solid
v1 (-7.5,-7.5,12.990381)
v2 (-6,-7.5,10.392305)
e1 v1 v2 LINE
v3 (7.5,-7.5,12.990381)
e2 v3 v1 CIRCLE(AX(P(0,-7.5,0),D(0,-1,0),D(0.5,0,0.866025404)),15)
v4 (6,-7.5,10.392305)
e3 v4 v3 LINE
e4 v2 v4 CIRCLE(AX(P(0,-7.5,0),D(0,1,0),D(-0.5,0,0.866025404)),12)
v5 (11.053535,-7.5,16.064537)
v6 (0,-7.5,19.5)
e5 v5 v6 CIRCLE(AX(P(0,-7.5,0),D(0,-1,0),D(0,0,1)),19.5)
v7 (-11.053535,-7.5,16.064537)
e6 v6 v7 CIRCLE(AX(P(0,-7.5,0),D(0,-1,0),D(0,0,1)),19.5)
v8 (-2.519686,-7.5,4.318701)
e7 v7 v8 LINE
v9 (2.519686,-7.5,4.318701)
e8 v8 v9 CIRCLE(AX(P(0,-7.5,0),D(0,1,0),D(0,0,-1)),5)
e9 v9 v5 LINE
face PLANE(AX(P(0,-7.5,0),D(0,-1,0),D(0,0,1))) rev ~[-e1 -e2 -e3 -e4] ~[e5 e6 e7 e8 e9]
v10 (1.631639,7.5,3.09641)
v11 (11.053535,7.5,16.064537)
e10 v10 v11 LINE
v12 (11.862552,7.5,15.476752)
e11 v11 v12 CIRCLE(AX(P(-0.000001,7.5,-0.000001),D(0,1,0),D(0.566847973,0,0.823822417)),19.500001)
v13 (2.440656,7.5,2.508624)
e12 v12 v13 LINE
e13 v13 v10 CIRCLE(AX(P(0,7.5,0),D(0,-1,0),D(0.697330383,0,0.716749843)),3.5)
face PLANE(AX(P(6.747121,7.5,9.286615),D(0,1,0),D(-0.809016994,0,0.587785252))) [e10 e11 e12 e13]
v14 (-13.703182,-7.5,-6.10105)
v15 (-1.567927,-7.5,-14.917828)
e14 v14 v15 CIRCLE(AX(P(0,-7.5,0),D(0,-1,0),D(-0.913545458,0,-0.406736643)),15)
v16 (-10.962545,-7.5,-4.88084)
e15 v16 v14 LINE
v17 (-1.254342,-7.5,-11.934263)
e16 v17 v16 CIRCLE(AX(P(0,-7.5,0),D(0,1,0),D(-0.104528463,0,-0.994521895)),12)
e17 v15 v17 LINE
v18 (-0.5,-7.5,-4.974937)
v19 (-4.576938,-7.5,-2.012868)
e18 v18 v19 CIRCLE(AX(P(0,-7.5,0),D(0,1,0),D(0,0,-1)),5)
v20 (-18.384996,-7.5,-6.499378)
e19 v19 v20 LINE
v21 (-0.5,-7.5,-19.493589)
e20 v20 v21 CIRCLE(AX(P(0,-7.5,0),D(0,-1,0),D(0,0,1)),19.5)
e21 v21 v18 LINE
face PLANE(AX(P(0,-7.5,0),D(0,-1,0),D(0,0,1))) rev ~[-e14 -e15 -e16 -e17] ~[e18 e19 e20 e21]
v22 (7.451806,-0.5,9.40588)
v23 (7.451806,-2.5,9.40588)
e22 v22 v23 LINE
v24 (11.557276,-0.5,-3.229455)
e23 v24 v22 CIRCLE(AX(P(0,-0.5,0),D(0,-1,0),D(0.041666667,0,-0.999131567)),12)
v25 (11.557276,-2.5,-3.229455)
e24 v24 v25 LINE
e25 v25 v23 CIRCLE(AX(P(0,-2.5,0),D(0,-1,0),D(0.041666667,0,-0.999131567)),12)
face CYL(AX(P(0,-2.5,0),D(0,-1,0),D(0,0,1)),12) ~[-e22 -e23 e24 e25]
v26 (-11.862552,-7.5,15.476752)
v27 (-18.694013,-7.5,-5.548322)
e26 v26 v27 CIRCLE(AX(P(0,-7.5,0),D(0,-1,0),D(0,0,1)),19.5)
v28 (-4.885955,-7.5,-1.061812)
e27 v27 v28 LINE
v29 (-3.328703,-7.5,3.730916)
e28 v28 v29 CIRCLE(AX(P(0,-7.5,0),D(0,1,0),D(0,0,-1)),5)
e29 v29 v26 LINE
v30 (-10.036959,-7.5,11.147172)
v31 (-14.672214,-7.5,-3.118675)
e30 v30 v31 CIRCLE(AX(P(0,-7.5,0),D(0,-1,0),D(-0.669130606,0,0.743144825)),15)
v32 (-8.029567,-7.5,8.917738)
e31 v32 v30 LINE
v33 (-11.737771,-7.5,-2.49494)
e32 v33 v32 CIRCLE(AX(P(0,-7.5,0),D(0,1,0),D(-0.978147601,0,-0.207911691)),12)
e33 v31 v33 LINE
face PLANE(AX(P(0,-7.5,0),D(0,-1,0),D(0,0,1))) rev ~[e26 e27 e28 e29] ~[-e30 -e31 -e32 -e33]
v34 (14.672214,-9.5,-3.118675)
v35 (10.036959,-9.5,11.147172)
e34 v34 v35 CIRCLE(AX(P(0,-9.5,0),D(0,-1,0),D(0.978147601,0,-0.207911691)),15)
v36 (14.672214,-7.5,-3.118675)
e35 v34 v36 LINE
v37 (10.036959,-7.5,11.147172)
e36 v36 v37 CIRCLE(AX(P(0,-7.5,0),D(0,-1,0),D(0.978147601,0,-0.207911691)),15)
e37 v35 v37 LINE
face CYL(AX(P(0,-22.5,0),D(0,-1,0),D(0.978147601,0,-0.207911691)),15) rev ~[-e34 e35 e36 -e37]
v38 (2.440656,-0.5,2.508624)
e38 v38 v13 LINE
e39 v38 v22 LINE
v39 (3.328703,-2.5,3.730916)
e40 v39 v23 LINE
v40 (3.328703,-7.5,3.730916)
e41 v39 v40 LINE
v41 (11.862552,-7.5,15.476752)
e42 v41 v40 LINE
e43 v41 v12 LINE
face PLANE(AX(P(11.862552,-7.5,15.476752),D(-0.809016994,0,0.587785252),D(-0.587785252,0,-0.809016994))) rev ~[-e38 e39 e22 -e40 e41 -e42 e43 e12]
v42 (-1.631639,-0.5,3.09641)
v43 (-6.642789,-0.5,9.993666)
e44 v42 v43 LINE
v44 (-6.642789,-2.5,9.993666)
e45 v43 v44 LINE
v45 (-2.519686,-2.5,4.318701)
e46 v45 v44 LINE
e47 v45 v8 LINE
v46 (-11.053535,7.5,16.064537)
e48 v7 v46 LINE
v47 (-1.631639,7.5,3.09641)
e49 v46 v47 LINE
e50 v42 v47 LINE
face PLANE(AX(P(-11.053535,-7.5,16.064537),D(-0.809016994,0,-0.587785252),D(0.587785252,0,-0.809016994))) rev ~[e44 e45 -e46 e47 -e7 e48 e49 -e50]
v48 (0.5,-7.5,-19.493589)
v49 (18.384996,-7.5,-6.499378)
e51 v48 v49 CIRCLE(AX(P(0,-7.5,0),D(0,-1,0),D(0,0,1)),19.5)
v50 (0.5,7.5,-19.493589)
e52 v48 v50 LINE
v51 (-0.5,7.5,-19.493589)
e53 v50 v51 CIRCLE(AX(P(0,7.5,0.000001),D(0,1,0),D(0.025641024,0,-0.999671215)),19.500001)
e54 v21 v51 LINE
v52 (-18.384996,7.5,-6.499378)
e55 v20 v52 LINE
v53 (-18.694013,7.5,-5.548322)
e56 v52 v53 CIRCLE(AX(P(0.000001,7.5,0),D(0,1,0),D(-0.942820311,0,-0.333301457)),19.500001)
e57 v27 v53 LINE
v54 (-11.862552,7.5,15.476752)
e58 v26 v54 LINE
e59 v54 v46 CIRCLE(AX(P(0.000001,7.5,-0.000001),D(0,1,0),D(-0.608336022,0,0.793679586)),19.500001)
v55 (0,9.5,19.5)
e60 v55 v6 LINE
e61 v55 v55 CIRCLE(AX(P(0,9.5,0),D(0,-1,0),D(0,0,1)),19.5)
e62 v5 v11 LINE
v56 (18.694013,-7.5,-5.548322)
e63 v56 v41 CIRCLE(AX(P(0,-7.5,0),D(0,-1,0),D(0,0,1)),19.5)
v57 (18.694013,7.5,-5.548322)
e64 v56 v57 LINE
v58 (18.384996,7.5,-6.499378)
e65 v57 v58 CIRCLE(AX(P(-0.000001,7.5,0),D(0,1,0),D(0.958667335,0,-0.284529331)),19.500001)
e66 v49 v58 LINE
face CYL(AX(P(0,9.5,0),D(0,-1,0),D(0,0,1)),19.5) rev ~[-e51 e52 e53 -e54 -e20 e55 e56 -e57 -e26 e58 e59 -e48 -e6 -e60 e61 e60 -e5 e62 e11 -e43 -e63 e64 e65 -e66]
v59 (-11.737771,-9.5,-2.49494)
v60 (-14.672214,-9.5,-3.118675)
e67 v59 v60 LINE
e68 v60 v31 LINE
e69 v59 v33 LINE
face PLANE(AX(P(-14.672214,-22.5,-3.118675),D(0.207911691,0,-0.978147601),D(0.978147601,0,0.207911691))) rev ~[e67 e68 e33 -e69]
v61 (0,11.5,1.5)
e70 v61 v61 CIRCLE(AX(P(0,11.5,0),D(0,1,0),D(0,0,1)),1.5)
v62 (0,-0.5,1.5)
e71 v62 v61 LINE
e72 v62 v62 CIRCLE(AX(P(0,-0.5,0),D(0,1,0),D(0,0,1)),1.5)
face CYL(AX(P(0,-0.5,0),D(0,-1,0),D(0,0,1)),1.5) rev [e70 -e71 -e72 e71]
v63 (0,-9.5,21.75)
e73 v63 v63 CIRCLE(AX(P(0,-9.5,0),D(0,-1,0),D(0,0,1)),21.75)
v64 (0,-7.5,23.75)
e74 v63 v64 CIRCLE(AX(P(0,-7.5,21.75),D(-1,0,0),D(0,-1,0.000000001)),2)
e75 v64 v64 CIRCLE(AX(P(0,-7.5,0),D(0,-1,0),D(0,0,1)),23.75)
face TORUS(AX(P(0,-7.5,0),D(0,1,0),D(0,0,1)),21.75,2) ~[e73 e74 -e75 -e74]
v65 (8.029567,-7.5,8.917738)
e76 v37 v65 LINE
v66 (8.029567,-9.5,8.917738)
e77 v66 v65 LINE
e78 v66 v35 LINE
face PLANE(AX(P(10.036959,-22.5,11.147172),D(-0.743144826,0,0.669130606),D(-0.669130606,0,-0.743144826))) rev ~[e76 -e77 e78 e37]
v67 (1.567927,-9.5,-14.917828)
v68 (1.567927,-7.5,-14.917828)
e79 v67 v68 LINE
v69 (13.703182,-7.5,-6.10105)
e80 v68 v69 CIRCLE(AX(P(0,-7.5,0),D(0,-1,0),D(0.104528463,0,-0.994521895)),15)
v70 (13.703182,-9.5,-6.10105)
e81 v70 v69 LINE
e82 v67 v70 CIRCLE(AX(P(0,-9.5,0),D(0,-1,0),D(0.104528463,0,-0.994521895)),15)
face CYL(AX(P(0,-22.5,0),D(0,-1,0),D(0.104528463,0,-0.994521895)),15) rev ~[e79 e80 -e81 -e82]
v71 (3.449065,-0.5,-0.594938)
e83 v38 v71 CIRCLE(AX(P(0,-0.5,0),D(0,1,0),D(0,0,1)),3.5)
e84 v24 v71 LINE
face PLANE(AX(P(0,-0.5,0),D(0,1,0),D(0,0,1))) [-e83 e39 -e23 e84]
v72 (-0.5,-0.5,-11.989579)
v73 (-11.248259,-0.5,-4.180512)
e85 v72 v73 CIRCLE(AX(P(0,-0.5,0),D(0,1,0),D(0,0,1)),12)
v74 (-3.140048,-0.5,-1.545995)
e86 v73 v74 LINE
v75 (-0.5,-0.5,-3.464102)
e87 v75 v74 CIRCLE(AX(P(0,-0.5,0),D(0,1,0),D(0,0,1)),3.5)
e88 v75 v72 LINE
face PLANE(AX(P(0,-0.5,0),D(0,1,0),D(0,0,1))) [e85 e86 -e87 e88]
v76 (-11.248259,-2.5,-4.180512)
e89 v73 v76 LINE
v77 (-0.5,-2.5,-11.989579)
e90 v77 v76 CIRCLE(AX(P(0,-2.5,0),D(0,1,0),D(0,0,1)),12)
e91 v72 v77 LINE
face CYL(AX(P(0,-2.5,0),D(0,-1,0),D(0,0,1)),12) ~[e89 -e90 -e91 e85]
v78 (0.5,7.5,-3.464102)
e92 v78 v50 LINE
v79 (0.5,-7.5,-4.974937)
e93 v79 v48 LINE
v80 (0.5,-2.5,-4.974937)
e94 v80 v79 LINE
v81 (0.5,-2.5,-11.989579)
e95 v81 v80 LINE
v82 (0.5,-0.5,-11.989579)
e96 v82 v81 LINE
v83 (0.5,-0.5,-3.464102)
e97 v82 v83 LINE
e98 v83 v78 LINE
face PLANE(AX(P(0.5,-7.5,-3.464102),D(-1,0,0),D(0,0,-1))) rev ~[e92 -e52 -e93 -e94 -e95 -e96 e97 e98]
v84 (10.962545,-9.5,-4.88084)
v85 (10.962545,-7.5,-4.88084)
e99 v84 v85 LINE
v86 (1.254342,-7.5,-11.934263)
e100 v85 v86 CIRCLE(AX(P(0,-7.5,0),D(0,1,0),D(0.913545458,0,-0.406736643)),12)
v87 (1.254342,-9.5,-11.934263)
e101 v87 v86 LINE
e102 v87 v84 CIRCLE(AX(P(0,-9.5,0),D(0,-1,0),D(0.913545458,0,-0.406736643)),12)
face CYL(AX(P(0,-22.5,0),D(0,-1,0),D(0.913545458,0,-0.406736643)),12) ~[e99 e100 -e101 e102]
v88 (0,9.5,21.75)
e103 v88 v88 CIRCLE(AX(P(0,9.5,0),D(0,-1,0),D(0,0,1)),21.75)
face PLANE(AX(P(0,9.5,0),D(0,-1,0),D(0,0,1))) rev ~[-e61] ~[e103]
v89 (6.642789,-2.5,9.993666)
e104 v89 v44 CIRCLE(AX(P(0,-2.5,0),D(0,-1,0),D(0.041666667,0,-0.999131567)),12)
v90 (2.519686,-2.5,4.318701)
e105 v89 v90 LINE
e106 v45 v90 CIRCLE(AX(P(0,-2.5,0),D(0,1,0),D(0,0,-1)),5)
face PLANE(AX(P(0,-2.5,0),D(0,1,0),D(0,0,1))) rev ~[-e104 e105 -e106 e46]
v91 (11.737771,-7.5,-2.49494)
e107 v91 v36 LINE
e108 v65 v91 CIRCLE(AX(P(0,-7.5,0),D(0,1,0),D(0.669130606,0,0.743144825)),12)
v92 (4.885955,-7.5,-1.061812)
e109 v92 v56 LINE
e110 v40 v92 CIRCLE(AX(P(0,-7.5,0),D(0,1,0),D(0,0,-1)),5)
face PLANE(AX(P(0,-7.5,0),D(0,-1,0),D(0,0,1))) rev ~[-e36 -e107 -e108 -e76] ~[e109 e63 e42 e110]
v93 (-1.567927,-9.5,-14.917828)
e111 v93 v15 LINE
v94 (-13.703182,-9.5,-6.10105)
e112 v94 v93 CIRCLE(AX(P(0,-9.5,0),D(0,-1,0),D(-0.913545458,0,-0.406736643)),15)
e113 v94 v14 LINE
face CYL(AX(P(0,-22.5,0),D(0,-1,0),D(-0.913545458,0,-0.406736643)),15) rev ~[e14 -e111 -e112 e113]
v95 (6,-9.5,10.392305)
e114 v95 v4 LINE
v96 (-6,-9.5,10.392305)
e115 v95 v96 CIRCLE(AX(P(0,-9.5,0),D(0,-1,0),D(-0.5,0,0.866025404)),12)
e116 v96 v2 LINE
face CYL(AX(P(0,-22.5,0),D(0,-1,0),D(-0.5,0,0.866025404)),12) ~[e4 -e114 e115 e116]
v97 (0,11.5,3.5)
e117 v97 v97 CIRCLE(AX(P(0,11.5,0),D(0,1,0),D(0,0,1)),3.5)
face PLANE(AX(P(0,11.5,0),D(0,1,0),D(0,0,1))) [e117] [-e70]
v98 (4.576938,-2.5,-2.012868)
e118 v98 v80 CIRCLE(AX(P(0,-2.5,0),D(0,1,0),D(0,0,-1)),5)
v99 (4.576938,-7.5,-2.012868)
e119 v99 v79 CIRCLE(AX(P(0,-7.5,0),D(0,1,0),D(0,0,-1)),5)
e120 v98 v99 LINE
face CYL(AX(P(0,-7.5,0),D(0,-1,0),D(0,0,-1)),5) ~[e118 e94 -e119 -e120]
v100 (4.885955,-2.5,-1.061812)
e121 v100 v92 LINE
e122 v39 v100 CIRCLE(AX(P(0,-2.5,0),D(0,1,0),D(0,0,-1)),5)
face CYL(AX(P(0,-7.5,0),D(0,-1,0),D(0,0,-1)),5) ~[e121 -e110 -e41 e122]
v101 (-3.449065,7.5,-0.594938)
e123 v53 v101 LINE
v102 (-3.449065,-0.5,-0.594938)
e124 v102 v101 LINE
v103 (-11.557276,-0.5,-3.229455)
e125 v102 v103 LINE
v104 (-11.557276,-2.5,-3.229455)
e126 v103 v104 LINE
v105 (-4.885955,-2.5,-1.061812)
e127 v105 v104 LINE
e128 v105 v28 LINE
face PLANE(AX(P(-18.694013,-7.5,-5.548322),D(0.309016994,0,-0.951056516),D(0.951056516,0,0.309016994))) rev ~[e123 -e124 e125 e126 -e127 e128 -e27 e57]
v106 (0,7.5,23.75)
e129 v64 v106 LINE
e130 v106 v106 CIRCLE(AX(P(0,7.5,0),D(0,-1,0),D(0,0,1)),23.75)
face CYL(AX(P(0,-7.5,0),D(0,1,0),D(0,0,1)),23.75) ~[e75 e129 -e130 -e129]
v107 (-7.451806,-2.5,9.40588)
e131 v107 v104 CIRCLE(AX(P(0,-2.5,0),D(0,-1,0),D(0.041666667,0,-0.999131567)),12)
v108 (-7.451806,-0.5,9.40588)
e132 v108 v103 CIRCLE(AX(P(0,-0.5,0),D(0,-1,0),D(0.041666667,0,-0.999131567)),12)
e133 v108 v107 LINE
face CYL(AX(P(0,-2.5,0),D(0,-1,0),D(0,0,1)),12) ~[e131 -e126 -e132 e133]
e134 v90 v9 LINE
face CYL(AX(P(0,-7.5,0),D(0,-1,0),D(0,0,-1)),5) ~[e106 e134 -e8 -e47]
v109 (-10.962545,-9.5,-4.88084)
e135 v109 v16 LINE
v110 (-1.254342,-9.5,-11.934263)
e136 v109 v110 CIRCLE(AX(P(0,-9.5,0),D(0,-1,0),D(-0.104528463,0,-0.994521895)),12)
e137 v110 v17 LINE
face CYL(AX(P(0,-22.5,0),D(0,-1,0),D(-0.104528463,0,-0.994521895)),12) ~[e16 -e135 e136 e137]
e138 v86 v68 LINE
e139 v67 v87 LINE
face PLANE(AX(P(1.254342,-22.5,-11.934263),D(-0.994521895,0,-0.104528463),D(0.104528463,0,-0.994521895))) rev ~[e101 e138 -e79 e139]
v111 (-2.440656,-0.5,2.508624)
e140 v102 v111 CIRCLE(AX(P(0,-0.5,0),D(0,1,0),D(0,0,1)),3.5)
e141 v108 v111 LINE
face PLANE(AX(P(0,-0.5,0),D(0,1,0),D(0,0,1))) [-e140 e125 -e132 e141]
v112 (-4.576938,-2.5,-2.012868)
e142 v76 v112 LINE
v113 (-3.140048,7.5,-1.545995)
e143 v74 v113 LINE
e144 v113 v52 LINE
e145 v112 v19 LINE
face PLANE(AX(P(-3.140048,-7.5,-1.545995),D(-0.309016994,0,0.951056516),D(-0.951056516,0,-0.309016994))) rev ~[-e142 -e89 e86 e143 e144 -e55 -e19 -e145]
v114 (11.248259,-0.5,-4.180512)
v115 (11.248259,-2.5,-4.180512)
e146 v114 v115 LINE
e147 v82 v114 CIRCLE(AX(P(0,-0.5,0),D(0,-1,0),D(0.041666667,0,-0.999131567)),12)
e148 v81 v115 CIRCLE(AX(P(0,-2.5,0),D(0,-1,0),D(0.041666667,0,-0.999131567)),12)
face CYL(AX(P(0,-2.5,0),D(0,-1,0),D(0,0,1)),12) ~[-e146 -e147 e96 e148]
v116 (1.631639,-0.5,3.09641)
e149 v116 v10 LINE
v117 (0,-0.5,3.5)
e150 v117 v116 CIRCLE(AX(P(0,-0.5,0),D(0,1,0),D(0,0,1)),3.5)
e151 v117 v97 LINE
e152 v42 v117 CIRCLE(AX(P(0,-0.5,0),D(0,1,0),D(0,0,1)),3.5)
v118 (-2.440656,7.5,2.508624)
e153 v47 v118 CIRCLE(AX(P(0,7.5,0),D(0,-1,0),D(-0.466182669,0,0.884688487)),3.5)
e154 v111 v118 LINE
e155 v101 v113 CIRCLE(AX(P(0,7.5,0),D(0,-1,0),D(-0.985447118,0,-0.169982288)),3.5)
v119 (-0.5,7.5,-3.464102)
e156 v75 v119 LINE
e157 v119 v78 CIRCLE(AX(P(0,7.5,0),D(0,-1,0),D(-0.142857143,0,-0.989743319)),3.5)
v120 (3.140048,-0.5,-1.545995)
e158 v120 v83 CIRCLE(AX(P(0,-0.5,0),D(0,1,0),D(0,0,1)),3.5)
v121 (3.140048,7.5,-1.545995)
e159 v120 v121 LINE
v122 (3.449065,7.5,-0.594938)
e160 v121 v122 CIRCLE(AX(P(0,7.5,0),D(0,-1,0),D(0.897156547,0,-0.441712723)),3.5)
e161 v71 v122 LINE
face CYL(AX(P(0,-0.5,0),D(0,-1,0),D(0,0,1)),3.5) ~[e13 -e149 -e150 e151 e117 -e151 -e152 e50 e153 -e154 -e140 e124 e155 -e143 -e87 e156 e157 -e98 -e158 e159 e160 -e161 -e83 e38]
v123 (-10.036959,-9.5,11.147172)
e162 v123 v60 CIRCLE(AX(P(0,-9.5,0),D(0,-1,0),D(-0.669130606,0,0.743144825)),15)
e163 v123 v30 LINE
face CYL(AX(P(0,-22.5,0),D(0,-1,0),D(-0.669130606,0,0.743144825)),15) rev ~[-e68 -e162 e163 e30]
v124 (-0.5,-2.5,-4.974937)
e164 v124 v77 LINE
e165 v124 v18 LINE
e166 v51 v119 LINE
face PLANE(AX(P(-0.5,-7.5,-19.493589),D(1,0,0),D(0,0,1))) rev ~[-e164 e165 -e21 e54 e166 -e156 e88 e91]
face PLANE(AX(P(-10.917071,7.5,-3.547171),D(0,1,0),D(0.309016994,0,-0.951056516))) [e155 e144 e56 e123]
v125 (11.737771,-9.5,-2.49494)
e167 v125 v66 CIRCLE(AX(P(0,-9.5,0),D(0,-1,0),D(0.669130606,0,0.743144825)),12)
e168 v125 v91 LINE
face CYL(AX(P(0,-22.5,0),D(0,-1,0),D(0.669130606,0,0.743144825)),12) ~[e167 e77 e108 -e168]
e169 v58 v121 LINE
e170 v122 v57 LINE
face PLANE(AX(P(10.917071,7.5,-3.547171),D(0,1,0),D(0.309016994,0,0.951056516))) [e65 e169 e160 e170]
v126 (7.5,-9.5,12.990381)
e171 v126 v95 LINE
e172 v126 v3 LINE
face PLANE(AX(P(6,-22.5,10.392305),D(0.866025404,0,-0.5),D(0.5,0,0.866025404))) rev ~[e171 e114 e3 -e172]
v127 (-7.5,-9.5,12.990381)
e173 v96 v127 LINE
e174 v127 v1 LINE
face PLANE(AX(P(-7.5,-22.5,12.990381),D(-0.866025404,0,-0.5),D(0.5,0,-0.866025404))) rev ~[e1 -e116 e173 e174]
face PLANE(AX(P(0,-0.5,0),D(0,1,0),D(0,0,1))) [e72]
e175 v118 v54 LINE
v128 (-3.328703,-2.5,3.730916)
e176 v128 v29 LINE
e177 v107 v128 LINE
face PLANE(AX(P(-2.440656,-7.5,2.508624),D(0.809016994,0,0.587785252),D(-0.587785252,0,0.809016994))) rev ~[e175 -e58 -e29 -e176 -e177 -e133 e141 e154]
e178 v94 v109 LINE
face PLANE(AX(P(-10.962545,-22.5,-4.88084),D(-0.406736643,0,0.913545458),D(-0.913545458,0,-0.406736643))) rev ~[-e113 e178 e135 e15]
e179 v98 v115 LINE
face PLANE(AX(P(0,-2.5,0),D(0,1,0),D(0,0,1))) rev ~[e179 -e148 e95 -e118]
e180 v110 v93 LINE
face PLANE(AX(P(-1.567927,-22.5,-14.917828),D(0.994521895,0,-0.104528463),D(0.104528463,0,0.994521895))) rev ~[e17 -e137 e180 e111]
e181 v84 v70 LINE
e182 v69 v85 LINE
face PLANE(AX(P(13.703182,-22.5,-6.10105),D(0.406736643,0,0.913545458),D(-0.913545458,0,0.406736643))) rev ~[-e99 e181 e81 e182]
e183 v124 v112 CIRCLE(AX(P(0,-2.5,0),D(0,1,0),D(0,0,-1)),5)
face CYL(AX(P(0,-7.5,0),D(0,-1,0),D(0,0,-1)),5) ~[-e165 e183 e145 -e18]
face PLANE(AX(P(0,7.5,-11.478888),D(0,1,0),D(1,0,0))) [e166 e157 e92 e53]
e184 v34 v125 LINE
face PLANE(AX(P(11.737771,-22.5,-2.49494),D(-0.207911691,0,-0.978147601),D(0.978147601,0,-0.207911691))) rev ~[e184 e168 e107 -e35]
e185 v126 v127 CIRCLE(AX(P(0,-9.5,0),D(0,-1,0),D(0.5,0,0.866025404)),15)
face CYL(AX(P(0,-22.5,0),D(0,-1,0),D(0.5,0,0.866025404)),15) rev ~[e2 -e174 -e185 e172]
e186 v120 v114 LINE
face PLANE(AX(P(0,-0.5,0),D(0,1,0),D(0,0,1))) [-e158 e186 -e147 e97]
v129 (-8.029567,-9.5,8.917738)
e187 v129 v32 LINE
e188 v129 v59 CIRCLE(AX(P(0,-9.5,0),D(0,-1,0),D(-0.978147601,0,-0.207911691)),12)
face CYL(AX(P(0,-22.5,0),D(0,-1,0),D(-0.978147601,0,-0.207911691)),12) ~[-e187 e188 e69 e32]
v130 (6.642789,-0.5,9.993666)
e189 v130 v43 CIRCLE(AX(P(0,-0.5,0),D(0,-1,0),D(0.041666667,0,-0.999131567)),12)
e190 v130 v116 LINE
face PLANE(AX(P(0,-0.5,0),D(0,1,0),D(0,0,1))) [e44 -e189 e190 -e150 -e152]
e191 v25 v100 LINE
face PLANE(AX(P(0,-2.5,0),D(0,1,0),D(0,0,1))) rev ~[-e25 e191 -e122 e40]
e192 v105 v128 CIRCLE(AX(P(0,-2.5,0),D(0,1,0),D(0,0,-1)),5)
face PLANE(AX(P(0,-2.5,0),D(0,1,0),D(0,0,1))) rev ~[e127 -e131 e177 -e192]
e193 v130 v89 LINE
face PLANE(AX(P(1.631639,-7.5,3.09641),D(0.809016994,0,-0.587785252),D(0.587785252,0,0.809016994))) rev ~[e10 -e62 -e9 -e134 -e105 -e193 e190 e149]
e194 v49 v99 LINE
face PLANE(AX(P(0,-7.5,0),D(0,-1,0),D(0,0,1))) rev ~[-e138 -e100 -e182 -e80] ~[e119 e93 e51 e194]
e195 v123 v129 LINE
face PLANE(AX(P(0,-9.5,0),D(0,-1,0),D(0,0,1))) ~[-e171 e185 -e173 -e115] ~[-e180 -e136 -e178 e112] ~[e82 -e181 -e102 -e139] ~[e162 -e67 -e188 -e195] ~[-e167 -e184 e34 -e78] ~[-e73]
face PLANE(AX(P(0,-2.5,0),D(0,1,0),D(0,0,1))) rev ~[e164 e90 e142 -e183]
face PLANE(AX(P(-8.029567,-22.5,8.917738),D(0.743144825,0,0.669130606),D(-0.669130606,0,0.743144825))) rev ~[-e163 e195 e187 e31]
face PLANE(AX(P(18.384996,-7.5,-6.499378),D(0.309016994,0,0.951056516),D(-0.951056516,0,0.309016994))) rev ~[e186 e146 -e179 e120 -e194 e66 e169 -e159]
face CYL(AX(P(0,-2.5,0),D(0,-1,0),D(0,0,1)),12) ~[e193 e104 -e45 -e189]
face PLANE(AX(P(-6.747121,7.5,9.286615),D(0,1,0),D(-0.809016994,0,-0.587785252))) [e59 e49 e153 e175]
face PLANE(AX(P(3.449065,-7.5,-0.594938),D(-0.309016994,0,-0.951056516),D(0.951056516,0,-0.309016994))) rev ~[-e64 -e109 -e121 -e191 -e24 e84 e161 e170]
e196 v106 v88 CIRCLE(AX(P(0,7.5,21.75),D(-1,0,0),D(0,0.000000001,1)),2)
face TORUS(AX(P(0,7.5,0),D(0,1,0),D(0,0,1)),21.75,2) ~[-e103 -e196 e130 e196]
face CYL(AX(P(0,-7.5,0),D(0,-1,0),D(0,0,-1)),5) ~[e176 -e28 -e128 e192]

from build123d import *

# Parameters (mm, degrees)
SKETCH_2_R               = 5
EXTRUDE_1_DEPTH          = 5
SKETCH_3_R               = 12
EXTRUDE_2_DEPTH          = 2
SKETCH_5_R               = 3.5
SKETCH_5_R_2             = 1.5
EXTRUDE_3_DEPTH          = 12
EXTRUDE_4_DEPTH          = 15
PATTERN_CIRCULAR_1_COUNT = 5
CUT_EXTRUDE_START        = -15
CUT_EXTRUDE_1_DEPTH      = 15
PATTERN_CIRCULAR_2_COUNT = 5


with BuildPart() as part:
    # 草图1 → 旋转1 (revolve)
    with BuildSketch(Plane.XY, mode=Mode.PRIVATE) as revolve_1_sk:
        with BuildLine():
            Line((19.5, 9.5), (19.5, -7.5))
            Line((19.5, -7.5), (0, -7.5))
            Line((0, -7.5), (0, -9.5))
            Line((0, -9.5), (21.75, -9.5))
            ThreePointArc((21.75, -9.5), (23.164213562, -8.914213562), (23.75, -7.5))
            Line((23.75, -7.5), (23.75, 7.5))
            ThreePointArc((23.75, 7.5), (23.164213562, 8.914213562), (21.75, 9.5))
            Line((21.75, 9.5), (19.5, 9.5))
        make_face()
    revolve(revolve_1_sk.sketch.rotate(Axis((0, 0, 0), (0, -1, 0)), 90), axis=Axis((0, 0, 0), (0, -1, 0)))

    # 草图2 → 凸台-拉伸1 (add)
    with BuildSketch(Plane(origin=(0, -7.5, 0), x_dir=(1, 0, 0), z_dir=(0, 1, 0))):
        with Locations(Location((0, 0, 0), (0, 0, 90))):
            Circle(SKETCH_2_R)
    extrude(amount=EXTRUDE_1_DEPTH)

    # 草图3 → 凸台-拉伸2 (add)
    with BuildSketch(Plane(origin=(0, -2.5, 0), x_dir=(1, 0, 0), z_dir=(0, 1, 0))):
        with Locations(Location((0, 0, 0), (0, 0, 270))):
            Circle(SKETCH_3_R)
    extrude(amount=EXTRUDE_2_DEPTH)

    # 草图5 → 凸台-拉伸3 (add)
    with BuildSketch(Plane(origin=(0, -0.5, 0), x_dir=(1, 0, 0), z_dir=(0, 1, 0))):
        with Locations(Location((0, 0, 0), (0, 0, 270))):
            Circle(SKETCH_5_R)
        with Locations(Location((0, 0, 0), (0, 0, 270))):
            Circle(SKETCH_5_R_2, mode=Mode.SUBTRACT)
    extrude(amount=EXTRUDE_3_DEPTH)

    # 草图6 → 凸台-拉伸4 (add)
    with BuildSketch(Plane(origin=(0, -7.5, 0), x_dir=(1, 0, 0), z_dir=(0, 1, 0))):
        with BuildLine():
            Line((-0.5, 19.49358869), (-0.5, 3.464101615))
            ThreePointArc((-0.5, 3.464101615), (0, 3.5), (0.5, 3.464101615))
            Line((0.5, 3.464101615), (0.5, 19.49358869))
            ThreePointArc((0.5, 19.49358869), (0, 19.5), (-0.5, 19.49358869))
        make_face()
    extrude_4 = extrude(amount=EXTRUDE_4_DEPTH)

    # 阵列(圆周)1: 凸台-拉伸4 ×5 about axis
    pattern_circular_1_axis = Axis((0, 0, 0), (0, 1, 0))
    for i in range(1, PATTERN_CIRCULAR_1_COUNT):
        add(extrude_4.rotate(pattern_circular_1_axis, i * 360 / PATTERN_CIRCULAR_1_COUNT))

    # 草图7 → 切除-拉伸1 (cut)
    with BuildSketch(Plane(origin=(0, -7.5, 0), x_dir=(1, 0, 0), z_dir=(0, 1, 0)).offset(CUT_EXTRUDE_START)):
        with BuildLine():
            Line((1.254341559, 11.934262744), (1.567926949, 14.917828431))
            ThreePointArc((1.567926949, 14.917828431), (8.816778784, 12.135254916), (13.703181865, 6.101049646))
            Line((13.703181865, 6.101049646), (10.962545492, 4.880839717))
            ThreePointArc((10.962545492, 4.880839717), (7.053423028, 9.708203932), (1.254341559, 11.934262744))
        make_face()
    cut_extrude_1 = extrude(amount=CUT_EXTRUDE_1_DEPTH, mode=Mode.SUBTRACT)

    # 阵列(圆周)2: 切除-拉伸1 ×5 about axis
    pattern_circular_2_axis = Axis((0, 0, 0), (0, 1, 0))
    for i in range(1, PATTERN_CIRCULAR_2_COUNT):
        add(cut_extrude_1.rotate(pattern_circular_2_axis, i * 360 / PATTERN_CIRCULAR_2_COUNT), mode=Mode.SUBTRACT)


solid = part.part
